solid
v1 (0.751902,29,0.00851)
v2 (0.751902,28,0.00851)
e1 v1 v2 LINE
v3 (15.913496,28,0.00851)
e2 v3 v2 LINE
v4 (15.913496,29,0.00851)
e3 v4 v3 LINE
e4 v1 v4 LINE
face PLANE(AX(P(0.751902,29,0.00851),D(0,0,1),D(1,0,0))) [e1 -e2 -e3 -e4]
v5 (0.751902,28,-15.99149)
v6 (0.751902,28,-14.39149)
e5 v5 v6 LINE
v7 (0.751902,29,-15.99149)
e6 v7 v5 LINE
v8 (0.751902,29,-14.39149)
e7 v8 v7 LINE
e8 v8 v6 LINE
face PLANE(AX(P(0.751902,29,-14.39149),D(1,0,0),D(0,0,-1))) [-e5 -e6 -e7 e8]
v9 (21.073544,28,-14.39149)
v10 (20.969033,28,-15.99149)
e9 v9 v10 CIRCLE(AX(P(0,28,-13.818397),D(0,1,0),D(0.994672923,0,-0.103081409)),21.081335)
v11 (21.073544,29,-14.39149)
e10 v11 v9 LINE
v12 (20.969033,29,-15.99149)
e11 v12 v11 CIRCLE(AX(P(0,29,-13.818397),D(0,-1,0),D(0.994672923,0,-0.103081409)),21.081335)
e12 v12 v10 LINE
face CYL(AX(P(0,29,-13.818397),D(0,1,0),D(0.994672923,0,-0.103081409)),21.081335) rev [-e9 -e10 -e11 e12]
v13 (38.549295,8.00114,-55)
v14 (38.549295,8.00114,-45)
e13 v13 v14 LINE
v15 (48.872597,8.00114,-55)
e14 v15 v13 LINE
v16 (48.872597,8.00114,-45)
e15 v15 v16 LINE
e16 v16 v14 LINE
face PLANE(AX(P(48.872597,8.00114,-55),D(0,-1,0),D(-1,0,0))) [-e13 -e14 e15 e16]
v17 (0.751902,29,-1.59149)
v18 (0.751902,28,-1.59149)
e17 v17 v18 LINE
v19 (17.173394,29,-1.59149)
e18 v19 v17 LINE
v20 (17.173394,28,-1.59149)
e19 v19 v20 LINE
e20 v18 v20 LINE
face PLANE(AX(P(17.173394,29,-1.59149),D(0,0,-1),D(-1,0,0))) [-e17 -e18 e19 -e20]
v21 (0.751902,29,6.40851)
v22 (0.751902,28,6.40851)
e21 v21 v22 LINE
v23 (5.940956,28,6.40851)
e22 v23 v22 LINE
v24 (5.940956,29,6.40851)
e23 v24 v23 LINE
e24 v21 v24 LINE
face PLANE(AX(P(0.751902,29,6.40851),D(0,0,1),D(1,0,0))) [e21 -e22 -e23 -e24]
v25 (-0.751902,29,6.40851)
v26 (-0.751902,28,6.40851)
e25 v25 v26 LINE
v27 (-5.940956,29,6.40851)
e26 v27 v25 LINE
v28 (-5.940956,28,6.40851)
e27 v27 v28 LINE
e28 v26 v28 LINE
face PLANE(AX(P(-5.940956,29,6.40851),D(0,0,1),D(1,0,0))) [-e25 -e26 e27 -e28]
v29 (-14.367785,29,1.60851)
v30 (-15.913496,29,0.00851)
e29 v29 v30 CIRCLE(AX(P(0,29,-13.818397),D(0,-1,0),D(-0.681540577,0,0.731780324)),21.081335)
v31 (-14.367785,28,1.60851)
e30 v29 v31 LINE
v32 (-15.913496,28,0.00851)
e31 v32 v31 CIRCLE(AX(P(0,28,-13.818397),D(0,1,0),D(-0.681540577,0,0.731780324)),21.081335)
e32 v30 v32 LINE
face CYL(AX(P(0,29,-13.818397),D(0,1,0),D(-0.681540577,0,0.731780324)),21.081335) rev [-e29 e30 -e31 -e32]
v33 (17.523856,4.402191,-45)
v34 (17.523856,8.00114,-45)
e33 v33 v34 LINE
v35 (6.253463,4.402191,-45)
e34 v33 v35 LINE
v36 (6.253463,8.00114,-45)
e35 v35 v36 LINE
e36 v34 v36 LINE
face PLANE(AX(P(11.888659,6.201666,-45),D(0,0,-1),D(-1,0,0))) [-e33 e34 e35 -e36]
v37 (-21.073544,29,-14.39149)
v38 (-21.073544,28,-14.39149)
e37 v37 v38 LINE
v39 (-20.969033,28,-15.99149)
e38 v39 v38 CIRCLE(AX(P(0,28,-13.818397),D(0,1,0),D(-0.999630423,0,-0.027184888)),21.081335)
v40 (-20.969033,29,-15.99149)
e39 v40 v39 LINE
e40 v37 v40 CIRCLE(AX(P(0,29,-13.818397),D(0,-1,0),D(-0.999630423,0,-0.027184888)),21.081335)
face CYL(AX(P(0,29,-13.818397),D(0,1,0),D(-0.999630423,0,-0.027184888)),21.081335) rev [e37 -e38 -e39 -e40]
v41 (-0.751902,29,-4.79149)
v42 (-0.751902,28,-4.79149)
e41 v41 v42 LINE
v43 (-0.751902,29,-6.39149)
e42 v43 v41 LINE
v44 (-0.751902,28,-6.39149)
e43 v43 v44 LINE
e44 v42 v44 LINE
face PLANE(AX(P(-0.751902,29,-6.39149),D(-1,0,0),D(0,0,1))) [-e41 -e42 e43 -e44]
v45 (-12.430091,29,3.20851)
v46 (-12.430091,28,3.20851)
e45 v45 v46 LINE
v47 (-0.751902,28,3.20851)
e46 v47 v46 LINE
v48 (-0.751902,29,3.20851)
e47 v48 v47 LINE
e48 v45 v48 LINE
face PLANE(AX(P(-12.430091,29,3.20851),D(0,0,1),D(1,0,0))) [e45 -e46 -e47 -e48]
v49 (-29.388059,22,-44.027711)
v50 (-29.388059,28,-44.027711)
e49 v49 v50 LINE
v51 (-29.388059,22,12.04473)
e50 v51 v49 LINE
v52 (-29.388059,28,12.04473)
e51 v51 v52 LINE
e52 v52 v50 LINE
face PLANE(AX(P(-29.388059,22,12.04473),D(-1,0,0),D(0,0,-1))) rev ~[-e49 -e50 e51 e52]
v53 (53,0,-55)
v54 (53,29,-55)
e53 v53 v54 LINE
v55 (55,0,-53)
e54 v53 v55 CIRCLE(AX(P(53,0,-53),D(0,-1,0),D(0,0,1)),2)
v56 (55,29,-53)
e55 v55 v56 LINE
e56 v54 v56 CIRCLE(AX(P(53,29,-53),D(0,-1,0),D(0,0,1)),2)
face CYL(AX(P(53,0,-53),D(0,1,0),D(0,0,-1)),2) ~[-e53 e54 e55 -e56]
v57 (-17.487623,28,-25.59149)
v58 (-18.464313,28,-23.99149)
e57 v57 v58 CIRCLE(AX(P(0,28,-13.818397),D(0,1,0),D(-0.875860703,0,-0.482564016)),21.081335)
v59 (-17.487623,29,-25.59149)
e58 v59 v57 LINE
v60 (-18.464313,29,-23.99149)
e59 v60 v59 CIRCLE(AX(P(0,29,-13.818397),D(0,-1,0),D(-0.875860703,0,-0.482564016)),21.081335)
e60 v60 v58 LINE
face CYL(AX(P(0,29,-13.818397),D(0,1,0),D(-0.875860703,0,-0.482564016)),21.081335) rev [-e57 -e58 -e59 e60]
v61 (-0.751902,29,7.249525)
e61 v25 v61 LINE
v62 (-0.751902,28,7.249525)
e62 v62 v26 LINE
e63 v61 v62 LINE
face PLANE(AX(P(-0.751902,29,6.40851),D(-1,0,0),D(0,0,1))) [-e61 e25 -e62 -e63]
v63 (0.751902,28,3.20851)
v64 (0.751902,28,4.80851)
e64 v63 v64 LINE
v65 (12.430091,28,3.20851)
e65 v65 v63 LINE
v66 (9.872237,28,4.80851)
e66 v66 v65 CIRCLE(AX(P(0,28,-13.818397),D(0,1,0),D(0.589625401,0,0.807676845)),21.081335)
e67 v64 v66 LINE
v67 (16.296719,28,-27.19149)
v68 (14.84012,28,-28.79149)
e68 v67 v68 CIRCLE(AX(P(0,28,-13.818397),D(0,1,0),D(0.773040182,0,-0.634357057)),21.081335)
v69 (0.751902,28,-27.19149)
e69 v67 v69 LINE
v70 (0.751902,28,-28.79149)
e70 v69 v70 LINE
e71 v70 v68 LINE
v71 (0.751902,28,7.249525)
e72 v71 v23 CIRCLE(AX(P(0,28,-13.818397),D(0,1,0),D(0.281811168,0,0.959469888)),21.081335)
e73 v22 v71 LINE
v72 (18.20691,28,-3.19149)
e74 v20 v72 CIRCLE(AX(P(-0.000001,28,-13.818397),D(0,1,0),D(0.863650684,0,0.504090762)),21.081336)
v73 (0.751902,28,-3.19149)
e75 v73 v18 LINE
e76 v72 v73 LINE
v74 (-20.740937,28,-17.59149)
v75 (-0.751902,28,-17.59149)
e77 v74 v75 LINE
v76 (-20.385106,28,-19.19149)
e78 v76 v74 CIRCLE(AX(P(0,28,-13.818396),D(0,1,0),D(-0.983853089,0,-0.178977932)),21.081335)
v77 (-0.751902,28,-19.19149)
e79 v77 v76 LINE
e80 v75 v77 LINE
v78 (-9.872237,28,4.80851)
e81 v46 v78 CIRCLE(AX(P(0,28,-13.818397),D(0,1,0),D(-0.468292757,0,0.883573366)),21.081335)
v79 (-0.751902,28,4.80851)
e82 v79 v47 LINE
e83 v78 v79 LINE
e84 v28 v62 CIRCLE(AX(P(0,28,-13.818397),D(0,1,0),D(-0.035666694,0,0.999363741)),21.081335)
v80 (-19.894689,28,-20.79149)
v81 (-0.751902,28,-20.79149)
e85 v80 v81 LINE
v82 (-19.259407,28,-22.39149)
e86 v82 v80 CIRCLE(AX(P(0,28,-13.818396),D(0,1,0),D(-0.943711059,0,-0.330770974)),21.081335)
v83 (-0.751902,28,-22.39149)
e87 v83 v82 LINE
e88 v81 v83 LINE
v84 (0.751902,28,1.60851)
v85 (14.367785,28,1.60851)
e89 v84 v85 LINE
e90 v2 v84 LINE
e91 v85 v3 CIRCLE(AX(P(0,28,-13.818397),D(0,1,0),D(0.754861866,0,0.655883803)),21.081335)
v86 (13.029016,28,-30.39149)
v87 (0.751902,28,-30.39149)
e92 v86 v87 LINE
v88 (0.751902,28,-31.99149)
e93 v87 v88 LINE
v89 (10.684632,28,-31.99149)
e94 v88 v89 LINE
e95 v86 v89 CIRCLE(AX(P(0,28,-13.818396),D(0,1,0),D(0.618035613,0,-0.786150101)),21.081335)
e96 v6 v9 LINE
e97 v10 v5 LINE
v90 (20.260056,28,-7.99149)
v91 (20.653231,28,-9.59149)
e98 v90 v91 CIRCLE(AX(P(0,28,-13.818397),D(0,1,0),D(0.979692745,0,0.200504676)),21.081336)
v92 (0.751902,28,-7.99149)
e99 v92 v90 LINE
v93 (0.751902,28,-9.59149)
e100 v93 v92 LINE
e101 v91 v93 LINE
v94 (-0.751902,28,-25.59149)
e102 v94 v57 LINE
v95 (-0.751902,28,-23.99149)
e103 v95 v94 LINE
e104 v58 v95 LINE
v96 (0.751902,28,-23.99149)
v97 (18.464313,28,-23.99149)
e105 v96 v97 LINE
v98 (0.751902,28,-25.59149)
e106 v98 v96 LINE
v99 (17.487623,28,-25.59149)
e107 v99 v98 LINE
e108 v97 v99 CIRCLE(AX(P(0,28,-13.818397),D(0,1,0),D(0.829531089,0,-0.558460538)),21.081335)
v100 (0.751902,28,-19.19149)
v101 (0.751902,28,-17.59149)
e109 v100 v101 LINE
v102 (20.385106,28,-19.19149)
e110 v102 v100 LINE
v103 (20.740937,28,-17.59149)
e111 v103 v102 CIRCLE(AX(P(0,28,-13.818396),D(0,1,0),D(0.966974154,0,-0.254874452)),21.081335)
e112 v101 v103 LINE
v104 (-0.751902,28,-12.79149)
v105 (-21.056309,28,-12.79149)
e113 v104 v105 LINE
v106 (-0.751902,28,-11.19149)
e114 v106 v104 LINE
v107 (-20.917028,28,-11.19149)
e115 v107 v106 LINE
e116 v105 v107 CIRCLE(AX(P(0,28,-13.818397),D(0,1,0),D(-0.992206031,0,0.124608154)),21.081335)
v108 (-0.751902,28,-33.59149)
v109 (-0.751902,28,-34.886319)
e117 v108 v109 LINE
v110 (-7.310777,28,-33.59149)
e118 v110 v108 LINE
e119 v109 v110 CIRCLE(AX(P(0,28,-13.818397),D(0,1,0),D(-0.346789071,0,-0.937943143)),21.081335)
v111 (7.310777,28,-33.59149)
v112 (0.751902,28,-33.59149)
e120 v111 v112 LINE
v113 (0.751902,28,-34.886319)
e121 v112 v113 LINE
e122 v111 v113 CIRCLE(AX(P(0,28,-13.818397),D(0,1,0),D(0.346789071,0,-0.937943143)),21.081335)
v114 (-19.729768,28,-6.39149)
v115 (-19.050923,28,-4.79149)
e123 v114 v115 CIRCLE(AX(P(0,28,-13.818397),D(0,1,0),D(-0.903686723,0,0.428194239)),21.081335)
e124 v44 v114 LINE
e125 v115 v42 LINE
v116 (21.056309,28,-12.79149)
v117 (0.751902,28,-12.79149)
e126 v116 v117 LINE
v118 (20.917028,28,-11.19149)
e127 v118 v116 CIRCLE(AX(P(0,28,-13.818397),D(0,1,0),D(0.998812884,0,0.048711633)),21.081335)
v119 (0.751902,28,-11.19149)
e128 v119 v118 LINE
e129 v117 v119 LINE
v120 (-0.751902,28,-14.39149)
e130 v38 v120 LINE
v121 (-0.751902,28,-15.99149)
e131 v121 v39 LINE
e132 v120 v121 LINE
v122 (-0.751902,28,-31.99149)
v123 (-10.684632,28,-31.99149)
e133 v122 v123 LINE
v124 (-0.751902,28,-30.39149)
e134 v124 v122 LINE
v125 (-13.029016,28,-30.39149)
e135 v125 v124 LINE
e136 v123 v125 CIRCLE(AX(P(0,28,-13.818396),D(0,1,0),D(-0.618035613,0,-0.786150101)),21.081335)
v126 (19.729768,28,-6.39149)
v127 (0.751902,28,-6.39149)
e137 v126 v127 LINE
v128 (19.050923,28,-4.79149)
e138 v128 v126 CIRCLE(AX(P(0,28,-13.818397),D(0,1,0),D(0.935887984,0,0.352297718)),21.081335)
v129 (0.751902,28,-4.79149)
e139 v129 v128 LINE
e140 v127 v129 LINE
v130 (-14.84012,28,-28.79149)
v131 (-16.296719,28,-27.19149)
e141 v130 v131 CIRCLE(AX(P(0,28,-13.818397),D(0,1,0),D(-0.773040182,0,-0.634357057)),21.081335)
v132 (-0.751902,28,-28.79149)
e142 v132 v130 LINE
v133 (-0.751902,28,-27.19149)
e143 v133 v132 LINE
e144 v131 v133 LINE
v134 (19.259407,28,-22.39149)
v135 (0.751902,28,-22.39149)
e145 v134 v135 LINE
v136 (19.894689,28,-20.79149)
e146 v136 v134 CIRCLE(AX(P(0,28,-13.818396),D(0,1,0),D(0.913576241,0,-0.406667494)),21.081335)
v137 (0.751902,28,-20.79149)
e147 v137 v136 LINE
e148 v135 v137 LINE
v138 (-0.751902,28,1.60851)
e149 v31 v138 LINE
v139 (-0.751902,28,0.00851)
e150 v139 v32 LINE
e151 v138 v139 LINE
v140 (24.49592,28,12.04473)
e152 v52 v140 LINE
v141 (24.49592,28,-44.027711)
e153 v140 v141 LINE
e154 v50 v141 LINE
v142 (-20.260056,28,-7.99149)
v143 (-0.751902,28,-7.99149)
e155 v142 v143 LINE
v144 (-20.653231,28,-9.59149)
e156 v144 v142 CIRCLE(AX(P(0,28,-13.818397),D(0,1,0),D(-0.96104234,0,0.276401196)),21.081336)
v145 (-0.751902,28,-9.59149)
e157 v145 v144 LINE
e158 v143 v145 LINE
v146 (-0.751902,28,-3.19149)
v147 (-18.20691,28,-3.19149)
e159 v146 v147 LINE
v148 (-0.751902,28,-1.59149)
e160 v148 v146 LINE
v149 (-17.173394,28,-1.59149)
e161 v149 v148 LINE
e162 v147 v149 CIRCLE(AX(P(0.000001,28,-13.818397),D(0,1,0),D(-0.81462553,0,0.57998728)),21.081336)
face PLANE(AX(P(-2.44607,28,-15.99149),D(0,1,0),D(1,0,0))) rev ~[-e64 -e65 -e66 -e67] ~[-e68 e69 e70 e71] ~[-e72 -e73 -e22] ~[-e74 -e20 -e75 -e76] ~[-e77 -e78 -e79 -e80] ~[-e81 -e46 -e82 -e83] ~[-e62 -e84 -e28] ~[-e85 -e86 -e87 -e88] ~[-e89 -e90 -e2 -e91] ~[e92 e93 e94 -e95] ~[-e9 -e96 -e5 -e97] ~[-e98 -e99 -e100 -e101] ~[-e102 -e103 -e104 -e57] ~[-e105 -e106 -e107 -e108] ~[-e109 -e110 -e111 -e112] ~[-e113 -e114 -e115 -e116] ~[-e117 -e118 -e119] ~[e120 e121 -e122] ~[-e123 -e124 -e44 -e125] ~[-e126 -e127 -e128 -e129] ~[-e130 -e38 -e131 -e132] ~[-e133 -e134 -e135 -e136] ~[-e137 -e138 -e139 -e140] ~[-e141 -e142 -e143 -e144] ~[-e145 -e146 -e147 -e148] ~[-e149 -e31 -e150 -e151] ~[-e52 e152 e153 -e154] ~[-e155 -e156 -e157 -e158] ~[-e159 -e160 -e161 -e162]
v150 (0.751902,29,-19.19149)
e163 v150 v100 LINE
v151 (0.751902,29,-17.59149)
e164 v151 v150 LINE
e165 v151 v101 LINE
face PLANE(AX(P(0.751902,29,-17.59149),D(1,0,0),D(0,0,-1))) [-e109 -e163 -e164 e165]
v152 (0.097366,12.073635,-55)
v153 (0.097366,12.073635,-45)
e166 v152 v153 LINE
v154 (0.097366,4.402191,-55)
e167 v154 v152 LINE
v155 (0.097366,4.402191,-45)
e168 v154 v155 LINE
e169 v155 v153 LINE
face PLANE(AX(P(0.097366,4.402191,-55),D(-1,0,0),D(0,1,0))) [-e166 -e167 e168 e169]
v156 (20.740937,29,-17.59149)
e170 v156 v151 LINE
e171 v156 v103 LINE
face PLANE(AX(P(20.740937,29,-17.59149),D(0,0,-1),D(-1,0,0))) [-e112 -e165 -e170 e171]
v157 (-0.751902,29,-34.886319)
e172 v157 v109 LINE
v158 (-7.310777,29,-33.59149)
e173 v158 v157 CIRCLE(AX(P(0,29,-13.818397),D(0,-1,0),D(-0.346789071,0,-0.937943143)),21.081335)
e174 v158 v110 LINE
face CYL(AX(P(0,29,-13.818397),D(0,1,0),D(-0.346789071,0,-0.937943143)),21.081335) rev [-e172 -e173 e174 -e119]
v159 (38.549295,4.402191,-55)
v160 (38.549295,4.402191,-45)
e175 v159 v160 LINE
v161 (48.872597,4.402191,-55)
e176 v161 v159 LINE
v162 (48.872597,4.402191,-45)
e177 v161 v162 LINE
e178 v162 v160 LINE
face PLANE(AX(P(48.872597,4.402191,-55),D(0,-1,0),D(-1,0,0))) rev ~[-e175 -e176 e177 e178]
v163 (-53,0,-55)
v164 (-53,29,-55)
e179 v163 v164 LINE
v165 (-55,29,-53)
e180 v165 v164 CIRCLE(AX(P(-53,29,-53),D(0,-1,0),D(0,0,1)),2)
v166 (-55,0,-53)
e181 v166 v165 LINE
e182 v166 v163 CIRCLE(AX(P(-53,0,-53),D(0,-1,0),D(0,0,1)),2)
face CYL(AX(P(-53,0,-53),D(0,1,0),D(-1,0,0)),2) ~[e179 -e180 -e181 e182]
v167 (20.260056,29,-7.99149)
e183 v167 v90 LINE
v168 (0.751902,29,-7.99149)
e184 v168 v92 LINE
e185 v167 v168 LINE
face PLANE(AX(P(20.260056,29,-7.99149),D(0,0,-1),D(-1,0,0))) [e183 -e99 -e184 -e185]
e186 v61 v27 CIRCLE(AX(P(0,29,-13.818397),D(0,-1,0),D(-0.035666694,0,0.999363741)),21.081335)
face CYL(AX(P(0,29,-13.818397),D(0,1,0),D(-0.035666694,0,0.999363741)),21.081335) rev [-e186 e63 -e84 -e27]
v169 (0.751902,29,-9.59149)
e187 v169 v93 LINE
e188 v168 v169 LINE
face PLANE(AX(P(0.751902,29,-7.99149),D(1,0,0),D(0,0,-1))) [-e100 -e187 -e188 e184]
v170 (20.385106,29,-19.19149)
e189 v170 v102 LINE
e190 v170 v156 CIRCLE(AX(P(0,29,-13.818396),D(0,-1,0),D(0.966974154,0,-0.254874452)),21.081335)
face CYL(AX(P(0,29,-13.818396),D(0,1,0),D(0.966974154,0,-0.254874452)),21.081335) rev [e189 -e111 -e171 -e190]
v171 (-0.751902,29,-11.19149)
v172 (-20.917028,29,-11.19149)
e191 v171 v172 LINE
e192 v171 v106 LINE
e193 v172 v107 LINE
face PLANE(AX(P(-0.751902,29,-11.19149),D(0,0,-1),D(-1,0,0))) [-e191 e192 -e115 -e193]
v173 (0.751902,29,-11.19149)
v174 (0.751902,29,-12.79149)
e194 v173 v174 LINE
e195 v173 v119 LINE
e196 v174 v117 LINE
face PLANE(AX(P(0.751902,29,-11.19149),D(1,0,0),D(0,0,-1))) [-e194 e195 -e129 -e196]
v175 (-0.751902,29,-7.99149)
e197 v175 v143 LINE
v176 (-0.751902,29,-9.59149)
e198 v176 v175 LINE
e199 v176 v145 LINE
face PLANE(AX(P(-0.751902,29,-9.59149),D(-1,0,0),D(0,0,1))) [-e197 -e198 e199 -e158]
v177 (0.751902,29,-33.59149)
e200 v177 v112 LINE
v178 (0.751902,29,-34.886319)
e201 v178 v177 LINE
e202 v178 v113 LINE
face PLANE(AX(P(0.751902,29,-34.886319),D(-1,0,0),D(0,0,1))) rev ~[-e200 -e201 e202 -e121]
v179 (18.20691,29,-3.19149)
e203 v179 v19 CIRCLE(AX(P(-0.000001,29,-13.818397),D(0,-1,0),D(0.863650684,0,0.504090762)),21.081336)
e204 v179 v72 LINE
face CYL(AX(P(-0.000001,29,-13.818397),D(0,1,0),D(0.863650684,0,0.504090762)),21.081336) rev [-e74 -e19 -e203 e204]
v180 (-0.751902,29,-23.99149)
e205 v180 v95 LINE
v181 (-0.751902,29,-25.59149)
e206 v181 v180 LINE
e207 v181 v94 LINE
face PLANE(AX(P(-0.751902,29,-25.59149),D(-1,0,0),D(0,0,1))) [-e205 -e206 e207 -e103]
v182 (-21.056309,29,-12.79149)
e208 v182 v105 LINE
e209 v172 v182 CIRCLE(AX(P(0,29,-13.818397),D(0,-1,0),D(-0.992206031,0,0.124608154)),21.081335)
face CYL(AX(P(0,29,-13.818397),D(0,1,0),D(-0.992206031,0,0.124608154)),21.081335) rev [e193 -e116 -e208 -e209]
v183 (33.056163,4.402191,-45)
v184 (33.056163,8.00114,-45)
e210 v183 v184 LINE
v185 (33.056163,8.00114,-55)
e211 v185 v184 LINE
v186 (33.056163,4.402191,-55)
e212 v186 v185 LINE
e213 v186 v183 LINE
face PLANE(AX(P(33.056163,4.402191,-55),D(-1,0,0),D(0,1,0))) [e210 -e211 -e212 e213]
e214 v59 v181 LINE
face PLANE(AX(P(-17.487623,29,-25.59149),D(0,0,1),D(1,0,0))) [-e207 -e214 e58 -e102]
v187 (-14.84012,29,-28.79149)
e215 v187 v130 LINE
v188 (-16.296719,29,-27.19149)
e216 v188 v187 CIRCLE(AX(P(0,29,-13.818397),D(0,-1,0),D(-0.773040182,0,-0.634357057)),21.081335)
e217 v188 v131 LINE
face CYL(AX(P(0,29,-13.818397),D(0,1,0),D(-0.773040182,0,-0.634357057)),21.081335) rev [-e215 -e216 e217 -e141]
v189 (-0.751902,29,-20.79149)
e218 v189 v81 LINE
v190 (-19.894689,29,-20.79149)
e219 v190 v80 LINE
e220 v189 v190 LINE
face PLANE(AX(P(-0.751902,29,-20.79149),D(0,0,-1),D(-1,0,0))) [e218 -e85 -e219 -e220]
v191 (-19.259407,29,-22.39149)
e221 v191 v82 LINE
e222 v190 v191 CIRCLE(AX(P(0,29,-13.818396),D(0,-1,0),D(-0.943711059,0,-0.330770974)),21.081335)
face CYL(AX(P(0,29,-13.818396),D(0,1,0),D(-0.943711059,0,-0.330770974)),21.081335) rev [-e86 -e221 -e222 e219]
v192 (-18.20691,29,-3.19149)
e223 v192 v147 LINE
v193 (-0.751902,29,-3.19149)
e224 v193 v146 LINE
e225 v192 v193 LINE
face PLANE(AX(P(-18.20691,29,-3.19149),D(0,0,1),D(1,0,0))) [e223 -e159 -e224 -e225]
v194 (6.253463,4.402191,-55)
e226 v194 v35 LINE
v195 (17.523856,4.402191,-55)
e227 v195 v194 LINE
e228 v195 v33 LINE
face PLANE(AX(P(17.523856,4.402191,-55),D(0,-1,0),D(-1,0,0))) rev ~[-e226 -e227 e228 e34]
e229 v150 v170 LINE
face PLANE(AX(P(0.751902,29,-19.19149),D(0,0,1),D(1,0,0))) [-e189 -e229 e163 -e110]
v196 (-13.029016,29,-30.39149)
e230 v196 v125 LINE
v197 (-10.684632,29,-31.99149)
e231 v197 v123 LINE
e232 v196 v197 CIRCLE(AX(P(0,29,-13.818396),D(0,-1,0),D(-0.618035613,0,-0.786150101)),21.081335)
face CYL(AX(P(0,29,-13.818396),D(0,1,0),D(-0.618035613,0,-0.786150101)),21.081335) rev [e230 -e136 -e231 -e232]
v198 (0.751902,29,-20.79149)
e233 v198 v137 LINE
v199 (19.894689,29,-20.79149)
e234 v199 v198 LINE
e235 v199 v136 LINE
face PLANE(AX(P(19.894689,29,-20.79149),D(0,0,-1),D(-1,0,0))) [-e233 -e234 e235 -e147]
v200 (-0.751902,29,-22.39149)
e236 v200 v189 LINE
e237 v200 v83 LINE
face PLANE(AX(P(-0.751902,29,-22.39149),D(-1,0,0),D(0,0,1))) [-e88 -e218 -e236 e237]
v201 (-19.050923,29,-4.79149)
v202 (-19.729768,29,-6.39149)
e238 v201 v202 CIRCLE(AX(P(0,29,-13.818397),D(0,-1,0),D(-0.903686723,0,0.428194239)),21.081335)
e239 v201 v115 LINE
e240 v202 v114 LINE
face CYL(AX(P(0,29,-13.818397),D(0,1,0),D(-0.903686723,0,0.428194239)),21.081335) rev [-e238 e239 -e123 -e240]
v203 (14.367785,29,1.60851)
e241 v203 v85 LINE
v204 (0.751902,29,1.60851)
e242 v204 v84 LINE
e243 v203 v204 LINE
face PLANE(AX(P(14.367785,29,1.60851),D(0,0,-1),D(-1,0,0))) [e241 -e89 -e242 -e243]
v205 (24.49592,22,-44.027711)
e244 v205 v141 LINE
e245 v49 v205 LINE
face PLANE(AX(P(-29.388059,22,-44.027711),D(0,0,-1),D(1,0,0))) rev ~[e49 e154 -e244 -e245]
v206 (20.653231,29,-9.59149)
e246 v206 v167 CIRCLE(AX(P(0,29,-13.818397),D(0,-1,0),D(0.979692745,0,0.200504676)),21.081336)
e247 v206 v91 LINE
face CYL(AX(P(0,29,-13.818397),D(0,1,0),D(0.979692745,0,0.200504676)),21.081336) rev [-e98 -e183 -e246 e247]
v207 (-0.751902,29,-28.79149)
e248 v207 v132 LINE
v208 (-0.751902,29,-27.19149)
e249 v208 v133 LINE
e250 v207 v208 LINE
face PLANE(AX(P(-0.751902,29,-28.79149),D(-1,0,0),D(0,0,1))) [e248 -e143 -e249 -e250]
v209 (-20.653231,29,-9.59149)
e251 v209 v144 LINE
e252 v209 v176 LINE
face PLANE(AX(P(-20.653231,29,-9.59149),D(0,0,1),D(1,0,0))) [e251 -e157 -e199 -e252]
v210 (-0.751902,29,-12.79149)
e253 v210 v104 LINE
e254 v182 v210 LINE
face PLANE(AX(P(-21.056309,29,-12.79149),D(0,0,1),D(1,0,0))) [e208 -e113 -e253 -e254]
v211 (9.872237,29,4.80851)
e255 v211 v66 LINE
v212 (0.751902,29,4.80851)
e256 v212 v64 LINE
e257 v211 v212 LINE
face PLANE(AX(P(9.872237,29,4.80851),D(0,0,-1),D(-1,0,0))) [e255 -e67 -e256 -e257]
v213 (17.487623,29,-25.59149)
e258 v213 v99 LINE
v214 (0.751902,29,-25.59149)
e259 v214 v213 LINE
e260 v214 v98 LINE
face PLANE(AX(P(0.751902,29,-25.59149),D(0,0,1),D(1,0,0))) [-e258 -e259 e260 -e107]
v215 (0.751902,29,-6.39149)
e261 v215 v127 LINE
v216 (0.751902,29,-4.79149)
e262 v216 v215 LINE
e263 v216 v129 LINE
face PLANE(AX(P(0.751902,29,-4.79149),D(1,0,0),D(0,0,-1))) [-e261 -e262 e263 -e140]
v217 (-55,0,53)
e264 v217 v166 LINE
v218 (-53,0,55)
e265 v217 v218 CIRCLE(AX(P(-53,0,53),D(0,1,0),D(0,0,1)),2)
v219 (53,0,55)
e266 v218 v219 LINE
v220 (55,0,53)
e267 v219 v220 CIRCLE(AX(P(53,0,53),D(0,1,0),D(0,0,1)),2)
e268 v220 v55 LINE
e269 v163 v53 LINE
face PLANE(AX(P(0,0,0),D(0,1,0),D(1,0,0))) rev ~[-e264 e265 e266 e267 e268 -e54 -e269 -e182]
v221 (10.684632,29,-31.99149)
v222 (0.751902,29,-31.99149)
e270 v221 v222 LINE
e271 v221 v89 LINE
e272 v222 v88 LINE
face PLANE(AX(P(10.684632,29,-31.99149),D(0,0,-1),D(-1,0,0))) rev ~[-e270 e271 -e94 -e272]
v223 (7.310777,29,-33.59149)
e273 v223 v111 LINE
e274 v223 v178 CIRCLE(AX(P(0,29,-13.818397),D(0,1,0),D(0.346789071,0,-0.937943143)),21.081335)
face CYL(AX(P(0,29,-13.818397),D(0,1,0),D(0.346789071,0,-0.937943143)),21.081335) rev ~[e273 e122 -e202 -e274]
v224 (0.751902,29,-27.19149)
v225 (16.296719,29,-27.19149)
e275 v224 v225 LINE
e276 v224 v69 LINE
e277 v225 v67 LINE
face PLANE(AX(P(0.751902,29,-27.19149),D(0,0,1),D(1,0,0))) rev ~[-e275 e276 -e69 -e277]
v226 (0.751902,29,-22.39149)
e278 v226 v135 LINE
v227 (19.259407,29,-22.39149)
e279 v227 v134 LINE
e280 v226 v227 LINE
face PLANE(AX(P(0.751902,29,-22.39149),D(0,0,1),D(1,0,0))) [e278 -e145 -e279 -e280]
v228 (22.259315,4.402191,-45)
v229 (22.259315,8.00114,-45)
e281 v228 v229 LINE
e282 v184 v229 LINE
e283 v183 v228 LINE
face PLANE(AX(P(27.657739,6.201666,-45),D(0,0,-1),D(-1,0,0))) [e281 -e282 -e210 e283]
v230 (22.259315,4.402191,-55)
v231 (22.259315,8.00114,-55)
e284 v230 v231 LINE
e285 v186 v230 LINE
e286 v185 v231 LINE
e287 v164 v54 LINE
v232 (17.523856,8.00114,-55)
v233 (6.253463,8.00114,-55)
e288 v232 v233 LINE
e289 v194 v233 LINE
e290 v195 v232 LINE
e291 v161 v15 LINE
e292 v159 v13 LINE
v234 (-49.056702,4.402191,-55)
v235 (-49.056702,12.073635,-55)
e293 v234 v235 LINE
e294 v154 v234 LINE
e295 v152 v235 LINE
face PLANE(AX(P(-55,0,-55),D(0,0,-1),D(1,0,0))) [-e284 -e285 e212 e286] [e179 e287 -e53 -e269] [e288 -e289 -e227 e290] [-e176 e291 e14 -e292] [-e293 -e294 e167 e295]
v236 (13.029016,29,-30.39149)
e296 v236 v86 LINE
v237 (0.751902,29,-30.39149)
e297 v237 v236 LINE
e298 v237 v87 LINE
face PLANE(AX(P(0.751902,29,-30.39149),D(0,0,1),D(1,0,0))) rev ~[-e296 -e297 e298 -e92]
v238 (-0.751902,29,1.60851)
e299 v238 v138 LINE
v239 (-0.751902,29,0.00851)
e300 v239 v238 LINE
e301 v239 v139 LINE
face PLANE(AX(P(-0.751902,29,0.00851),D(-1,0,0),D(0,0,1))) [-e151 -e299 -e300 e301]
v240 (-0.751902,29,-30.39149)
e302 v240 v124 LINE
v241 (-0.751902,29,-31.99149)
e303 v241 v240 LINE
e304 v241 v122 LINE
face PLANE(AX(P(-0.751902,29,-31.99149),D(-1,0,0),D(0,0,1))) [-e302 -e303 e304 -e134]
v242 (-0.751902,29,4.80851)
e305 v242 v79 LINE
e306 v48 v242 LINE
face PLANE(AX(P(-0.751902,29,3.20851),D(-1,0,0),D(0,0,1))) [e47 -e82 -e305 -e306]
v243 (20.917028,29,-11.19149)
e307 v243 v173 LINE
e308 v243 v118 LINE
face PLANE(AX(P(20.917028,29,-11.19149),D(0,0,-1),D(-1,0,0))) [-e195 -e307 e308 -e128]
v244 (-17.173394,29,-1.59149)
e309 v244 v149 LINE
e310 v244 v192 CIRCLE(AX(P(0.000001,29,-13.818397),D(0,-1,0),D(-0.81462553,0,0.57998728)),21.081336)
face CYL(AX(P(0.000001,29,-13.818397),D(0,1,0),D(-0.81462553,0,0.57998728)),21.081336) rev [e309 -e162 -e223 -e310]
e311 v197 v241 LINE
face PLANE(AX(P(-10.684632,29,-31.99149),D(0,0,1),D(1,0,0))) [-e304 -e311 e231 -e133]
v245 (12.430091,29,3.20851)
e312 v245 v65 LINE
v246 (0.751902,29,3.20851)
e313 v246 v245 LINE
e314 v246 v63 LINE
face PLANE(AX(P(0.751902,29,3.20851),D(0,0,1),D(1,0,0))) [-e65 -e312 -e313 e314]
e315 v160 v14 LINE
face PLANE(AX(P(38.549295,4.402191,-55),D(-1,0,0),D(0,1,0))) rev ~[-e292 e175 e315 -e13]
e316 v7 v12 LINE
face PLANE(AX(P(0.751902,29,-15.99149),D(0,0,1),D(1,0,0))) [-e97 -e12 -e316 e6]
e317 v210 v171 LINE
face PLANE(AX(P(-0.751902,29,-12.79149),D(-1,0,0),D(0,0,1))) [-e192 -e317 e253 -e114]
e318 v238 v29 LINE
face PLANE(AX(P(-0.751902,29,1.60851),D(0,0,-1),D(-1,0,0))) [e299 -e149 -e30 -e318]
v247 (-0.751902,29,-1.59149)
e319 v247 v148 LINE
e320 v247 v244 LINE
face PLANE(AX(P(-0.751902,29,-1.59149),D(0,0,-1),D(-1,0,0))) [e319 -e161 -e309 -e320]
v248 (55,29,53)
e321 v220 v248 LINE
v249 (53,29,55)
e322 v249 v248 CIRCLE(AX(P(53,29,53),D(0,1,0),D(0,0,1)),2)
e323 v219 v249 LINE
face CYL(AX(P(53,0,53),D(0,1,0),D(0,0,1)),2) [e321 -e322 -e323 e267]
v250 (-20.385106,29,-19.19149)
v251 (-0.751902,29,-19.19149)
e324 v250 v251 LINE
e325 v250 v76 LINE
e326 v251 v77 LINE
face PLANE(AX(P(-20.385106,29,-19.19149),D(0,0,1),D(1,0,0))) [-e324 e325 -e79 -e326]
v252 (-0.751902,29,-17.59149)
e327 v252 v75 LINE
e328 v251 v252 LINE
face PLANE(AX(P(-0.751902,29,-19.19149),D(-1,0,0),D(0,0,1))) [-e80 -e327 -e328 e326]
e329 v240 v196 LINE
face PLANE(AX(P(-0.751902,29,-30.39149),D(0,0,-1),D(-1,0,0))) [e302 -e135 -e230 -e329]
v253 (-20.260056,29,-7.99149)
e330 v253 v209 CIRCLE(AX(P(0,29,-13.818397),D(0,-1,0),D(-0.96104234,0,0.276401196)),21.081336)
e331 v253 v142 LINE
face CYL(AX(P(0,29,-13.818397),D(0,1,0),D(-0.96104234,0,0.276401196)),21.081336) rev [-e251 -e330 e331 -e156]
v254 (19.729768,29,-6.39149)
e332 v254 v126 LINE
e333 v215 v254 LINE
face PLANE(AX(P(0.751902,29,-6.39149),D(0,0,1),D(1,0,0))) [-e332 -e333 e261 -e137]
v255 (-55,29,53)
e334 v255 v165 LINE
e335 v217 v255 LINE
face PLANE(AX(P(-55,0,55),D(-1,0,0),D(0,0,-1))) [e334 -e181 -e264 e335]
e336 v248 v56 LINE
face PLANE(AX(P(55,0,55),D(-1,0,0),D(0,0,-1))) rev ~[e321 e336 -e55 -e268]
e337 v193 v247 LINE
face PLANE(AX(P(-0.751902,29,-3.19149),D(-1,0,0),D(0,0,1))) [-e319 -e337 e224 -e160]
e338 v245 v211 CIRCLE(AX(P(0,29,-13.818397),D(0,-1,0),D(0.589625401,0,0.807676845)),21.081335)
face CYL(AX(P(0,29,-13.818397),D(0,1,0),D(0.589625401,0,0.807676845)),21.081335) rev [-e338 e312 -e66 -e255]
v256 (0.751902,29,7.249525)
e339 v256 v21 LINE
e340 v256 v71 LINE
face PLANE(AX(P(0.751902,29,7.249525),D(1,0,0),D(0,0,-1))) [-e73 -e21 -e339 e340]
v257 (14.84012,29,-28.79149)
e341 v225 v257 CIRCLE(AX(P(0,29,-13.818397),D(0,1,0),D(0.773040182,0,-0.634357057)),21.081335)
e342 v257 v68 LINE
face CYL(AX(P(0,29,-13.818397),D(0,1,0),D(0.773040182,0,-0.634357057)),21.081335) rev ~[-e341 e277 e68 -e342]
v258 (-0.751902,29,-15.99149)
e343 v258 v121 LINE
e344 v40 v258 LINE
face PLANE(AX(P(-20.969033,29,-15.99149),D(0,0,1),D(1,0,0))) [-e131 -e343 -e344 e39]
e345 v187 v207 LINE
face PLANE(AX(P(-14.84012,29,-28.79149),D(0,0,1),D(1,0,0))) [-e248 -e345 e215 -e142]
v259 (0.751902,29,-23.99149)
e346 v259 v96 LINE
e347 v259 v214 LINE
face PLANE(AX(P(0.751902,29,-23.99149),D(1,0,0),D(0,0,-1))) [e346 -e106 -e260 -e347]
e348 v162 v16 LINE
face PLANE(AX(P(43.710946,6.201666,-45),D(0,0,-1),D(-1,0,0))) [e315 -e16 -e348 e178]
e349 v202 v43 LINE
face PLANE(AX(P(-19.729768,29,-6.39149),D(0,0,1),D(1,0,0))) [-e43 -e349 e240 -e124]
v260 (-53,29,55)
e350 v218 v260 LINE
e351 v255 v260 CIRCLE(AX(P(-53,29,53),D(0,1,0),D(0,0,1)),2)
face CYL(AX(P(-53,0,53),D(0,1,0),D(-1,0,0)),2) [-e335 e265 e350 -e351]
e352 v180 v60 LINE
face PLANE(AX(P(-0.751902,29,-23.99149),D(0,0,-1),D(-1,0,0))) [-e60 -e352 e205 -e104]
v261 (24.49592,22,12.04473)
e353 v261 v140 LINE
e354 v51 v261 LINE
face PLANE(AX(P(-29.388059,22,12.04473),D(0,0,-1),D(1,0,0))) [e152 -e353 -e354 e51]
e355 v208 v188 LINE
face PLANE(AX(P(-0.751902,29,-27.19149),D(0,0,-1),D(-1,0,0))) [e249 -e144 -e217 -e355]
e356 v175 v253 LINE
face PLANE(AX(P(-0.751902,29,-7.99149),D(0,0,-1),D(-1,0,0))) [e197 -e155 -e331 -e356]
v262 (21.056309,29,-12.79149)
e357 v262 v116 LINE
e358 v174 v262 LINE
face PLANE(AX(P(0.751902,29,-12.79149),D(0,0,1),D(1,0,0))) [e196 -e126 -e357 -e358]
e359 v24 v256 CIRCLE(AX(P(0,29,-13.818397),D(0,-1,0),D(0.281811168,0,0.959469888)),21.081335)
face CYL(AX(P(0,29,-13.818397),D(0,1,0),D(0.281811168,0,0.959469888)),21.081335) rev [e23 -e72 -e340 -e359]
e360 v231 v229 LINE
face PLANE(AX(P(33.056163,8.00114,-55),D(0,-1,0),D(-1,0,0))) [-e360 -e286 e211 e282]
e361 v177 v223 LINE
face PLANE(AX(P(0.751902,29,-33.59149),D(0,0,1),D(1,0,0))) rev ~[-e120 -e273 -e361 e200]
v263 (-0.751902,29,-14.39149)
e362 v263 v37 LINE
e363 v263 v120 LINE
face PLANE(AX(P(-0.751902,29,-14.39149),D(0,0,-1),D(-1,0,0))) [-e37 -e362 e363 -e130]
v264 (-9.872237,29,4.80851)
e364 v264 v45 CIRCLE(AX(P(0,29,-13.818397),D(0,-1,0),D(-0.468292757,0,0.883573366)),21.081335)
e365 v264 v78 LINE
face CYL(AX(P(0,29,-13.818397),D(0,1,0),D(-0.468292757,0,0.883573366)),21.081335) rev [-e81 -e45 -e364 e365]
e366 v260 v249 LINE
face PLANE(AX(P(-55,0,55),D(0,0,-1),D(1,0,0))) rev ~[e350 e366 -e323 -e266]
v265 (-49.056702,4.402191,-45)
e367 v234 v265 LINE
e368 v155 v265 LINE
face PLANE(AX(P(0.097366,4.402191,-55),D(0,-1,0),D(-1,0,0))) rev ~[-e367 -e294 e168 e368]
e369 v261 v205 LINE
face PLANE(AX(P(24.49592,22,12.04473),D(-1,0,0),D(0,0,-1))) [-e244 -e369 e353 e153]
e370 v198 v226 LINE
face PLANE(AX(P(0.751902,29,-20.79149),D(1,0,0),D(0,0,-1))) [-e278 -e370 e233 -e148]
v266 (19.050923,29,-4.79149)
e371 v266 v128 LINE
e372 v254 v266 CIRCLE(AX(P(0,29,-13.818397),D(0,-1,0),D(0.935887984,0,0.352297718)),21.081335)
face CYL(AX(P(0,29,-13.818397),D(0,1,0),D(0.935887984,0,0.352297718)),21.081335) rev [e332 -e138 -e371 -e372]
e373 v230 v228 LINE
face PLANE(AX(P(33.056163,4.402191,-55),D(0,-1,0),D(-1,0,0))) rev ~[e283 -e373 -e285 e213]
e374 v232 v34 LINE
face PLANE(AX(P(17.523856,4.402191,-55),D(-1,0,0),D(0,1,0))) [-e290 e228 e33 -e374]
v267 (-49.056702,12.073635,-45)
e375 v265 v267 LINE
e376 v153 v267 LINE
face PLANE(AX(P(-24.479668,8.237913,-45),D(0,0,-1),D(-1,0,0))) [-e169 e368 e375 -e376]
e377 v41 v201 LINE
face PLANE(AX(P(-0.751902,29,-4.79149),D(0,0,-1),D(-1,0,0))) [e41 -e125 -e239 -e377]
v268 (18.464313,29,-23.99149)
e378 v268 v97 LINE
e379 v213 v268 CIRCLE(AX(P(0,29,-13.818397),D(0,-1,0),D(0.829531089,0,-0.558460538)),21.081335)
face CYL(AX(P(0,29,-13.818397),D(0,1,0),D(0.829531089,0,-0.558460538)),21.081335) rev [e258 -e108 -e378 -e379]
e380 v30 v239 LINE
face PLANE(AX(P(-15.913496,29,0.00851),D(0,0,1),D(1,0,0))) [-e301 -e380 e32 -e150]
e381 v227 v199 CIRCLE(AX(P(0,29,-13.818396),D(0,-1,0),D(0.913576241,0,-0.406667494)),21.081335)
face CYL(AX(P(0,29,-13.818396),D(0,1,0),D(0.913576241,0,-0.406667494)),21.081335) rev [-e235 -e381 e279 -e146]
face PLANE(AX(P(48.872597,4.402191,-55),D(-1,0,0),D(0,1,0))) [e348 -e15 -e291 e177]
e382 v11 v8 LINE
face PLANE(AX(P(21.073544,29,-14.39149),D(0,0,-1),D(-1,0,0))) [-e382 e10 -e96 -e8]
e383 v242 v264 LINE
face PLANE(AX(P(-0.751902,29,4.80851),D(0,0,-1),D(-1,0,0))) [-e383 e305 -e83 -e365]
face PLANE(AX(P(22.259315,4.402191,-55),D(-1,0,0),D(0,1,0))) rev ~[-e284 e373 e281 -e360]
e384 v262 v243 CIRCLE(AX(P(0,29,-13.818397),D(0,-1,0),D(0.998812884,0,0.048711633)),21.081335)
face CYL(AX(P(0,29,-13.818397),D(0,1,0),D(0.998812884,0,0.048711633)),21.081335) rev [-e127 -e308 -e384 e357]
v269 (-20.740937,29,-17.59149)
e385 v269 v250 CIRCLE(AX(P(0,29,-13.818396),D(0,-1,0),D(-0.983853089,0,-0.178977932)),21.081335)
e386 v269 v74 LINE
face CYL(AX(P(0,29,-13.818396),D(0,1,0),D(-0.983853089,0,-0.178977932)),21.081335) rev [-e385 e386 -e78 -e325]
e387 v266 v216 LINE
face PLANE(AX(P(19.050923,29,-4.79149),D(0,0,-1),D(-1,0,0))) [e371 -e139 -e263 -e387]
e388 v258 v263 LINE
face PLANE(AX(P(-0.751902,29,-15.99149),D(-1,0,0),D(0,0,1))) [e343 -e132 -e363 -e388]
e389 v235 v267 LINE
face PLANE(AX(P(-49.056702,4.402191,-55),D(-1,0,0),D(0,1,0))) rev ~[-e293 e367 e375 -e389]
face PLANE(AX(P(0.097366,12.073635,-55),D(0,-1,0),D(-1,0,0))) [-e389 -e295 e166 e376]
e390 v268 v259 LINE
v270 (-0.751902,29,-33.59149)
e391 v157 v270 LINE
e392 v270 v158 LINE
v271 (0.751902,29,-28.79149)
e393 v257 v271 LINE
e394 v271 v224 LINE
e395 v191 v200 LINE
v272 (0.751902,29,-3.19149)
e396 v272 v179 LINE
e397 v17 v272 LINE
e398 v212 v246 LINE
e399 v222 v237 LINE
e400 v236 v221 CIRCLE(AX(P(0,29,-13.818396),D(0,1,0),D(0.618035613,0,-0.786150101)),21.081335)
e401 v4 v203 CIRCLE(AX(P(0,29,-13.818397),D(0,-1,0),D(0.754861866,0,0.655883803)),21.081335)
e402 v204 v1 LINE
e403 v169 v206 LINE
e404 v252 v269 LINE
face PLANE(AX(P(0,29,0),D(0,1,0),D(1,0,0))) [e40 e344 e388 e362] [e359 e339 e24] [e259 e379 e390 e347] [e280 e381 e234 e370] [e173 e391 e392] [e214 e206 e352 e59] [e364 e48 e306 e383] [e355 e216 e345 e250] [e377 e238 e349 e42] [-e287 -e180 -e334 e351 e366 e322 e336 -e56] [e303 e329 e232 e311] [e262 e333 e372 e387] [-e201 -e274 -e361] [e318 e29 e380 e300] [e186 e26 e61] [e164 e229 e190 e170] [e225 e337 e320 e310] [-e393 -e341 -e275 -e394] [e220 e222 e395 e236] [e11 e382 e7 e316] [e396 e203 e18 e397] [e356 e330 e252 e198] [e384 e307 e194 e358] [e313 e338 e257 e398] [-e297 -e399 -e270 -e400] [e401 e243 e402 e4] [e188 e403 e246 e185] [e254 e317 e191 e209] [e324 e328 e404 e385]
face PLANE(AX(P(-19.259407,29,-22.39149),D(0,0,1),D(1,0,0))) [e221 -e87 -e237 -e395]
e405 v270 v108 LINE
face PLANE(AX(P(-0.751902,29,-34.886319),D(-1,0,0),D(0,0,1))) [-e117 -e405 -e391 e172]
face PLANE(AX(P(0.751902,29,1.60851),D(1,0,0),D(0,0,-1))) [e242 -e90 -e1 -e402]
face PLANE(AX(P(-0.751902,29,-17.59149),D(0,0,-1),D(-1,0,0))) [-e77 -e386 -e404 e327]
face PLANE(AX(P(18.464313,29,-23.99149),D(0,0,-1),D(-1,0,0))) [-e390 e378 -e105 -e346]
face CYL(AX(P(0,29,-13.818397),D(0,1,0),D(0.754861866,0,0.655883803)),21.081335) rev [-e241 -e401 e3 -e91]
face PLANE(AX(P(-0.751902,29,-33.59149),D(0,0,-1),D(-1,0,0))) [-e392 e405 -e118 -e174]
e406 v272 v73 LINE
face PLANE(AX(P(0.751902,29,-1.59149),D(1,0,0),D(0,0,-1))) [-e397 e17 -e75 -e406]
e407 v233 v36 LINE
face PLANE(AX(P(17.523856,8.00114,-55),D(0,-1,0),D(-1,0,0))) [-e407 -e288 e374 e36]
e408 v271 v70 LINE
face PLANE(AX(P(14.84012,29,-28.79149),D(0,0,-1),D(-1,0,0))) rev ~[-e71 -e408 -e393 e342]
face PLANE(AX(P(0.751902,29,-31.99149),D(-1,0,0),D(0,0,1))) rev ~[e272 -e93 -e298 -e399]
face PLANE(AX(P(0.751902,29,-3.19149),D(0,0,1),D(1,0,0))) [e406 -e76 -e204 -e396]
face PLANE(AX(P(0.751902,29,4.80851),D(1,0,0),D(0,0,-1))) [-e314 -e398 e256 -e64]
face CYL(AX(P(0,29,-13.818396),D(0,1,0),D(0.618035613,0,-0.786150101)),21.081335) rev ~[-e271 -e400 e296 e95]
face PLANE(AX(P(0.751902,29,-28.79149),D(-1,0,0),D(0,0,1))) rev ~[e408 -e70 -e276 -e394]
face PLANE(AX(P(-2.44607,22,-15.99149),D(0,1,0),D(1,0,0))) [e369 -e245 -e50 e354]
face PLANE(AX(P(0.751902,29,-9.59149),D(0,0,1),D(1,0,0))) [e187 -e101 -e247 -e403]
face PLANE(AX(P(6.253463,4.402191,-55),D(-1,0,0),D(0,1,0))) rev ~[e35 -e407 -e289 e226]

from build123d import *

# Parameters (mm, degrees)
SKETCH_1_W          = 110
SKETCH_1_H          = 110
EXTRUDE_1_DEPTH     = 29
CUT_EXTRUDE_1_DEPTH = 7
SKETCH_3_W          = 53.883979218
SKETCH_3_H          = 56.07244117
CUT_EXTRUDE_3_DEPTH = 6
SKETCH_4_W          = 10.323301276
SKETCH_4_H          = 3.598949069
SKETCH_4_W_2        = 10.796847207
SKETCH_4_W_3        = 11.270393137
SKETCH_4_W_4        = 49.154067547
SKETCH_4_H_2        = 7.671444068
CUT_EXTRUDE_4_DEPTH = 10
FILLET_1_R          = 2


with BuildPart() as part:
    # 草图1 → 凸台-拉伸1 (new body)
    with BuildSketch(Plane(origin=(0, 0, 0), x_dir=(1, 0, 0), z_dir=(0, 1, 0))):
        Rectangle(SKETCH_1_W, SKETCH_1_H)
    extrude(amount=EXTRUDE_1_DEPTH)

    # 草图2 → 切除-拉伸1 (cut)
    with BuildSketch(Plane(origin=(0, 29, 0), x_dir=(1, 0, 0), z_dir=(0, 1, 0))):
        with BuildLine():
            Line((-0.751901528, 34.886318516), (-0.751901528, 33.59149031))
            Line((-0.751901528, 33.59149031), (-7.310776634, 33.59149031))
            ThreePointArc((-7.310776634, 33.59149031), (-4.082993976, 34.500559204), (-0.751901528, 34.886318516))
        make_face()
        with BuildLine():
            Line((-0.751901528, 31.99149031), (-0.751901528, 30.39149031))
            Line((-0.751901528, 30.39149031), (-13.029015886, 30.39149031))
            ThreePointArc((-13.029015886, 30.39149031), (-11.883781834, 31.230990299), (-10.684631719, 31.99149031))
            Line((-10.684631719, 31.99149031), (-0.751901528, 31.99149031))
        make_face()
        with BuildLine():
            Line((0.751901528, 34.886318516), (0.751901528, 33.59149031))
            Line((0.751901528, 33.59149031), (7.310776634, 33.59149031))
            ThreePointArc((7.310776634, 33.59149031), (4.082993976, 34.500559204), (0.751901528, 34.886318516))
        make_face()
        with BuildLine():
            Line((-14.840119775, 28.79149031), (-0.751901528, 28.79149031))
            Line((-0.751901528, 28.79149031), (-0.751901528, 27.19149031))
            Line((-0.751901528, 27.19149031), (-16.296719146, 27.19149031))
            ThreePointArc((-16.296719146, 27.19149031), (-15.588960341, 28.010190206), (-14.840119775, 28.79149031))
        make_face()
        with BuildLine():
            Line((-17.487622906, 25.59149031), (-0.751901528, 25.59149031))
            Line((-0.751901528, 25.59149031), (-0.751901528, 23.99149031))
            Line((-0.751901528, 23.99149031), (-18.464313009, 23.99149031))
            ThreePointArc((-18.464313009, 23.99149031), (-17.993760697, 24.802351555), (-17.487622906, 25.59149031))
        make_face()
        with BuildLine():
            Line((-19.259406919, 22.39149031), (-0.751901528, 22.39149031))
            Line((-0.751901528, 22.39149031), (-0.751901528, 20.79149031))
            Line((-0.751901528, 20.79149031), (-19.894689112, 20.79149031))
            ThreePointArc((-19.894689112, 20.79149031), (-19.593386869, 21.597977674), (-19.259406919, 22.39149031))
        make_face()
        with BuildLine():
            Line((-20.385106201, 19.19149031), (-0.751901528, 19.19149031))
            Line((-0.751901528, 19.19149031), (-0.751901528, 17.59149031))
            Line((-0.751901528, 17.59149031), (-20.740936691, 17.59149031))
            ThreePointArc((-20.740936691, 17.59149031), (-20.578577477, 18.394949879), (-20.385106201, 19.19149031))
        make_face()
        with BuildLine():
            Line((-20.969033235, 15.99149031), (-0.751901528, 15.99149031))
            Line((-0.751901528, 15.99149031), (-0.751901528, 14.39149031))
            Line((-0.751901528, 14.39149031), (-21.073543954, 14.39149031))
            ThreePointArc((-21.073543954, 14.39149031), (-21.03650575, 15.192484283), (-20.969033235, 15.99149031))
        make_face()
        with BuildLine():
            Line((-21.056309144, 12.79149031), (-0.751901528, 12.79149031))
            Line((-0.751901528, 12.79149031), (-0.751901528, 11.19149031))
            Line((-0.751901528, 11.19149031), (-20.917027866, 11.19149031))
            ThreePointArc((-20.917027866, 11.19149031), (-21.001910745, 11.990163461), (-21.056309144, 12.79149031))
        make_face()
        with BuildLine():
            Line((-20.653231097, 9.59149031), (-0.751901528, 9.59149031))
            Line((-0.751901528, 9.59149031), (-0.751901528, 7.99149031))
            Line((-0.751901528, 7.99149031), (-20.260055644, 7.99149031))
            ThreePointArc((-20.260055644, 7.99149031), (-20.472280234, 8.787647791), (-20.653231097, 9.59149031))
        make_face()
        with BuildLine():
            Line((-19.729768237, 6.39149031), (-0.751901528, 6.39149031))
            Line((-0.751901528, 6.39149031), (-0.751901528, 4.79149031))
            Line((-0.751901528, 4.79149031), (-19.050922672, 4.79149031))
            ThreePointArc((-19.050922672, 4.79149031), (-19.406841496, 5.584491395), (-19.729768237, 6.39149031))
        make_face()
        with BuildLine():
            Line((-18.206909531, 3.19149031), (-0.751901528, 3.19149031))
            Line((-0.751901528, 3.19149031), (-0.751901528, 1.59149031))
            Line((-0.751901528, 1.59149031), (-17.173393801, 1.59149031))
            ThreePointArc((-17.173393801, 1.59149031), (-17.708231587, 2.379811633), (-18.206909531, 3.19149031))
        make_face()
        with BuildLine():
            Line((-15.91349599, -0.00850969), (-0.751901528, -0.00850969))
            Line((-0.751901528, -0.00850969), (-0.751901528, -1.60850969))
            Line((-0.751901528, -1.60850969), (-14.367785306, -1.60850969))
            ThreePointArc((-14.367785306, -1.60850969), (-15.161761086, -0.828913494), (-15.91349599, -0.00850969))
        make_face()
        with BuildLine():
            Line((-12.430090691, -3.20850969), (-0.751901528, -3.20850969))
            Line((-0.751901528, -3.20850969), (-0.751901528, -4.80850969))
            Line((-0.751901528, -4.80850969), (-9.872236553, -4.80850969))
            ThreePointArc((-9.872236553, -4.80850969), (-11.17982335, -4.054326816), (-12.430090691, -3.20850969))
        make_face()
        with BuildLine():
            Line((-5.940955693, -6.40850969), (-0.751901528, -6.40850969))
            Line((-0.751901528, -6.40850969), (-0.751901528, -7.249525385))
            ThreePointArc((-0.751901528, -7.249525385), (-3.372745364, -6.991391514), (-5.940955693, -6.40850969))
        make_face()
        with BuildLine():
            Line((0.751901528, 31.99149031), (0.751901528, 30.39149031))
            Line((0.751901528, 30.39149031), (13.029015886, 30.39149031))
            ThreePointArc((13.029015886, 30.39149031), (11.883781834, 31.230990299), (10.684631719, 31.99149031))
            Line((10.684631719, 31.99149031), (0.751901528, 31.99149031))
        make_face()
        with BuildLine():
            Line((0.751901528, 28.79149031), (0.751901528, 27.19149031))
            Line((0.751901528, 27.19149031), (16.296719146, 27.19149031))
            ThreePointArc((16.296719146, 27.19149031), (15.588960341, 28.010190206), (14.840119775, 28.79149031))
            Line((14.840119775, 28.79149031), (0.751901528, 28.79149031))
        make_face()
        with BuildLine():
            Line((0.751901528, 25.59149031), (17.487622906, 25.59149031))
            ThreePointArc((17.487622906, 25.59149031), (17.993760697, 24.802351555), (18.464313009, 23.99149031))
            Line((18.464313009, 23.99149031), (0.751901528, 23.99149031))
            Line((0.751901528, 23.99149031), (0.751901528, 25.59149031))
        make_face()
        with BuildLine():
            Line((0.751901528, 22.39149031), (19.259406919, 22.39149031))
            ThreePointArc((19.259406919, 22.39149031), (19.593386869, 21.597977674), (19.894689112, 20.79149031))
            Line((19.894689112, 20.79149031), (0.751901528, 20.79149031))
            Line((0.751901528, 20.79149031), (0.751901528, 22.39149031))
        make_face()
        with BuildLine():
            Line((0.751901528, 19.19149031), (20.385106201, 19.19149031))
            ThreePointArc((20.385106201, 19.19149031), (20.578577477, 18.394949879), (20.740936691, 17.59149031))
            Line((20.740936691, 17.59149031), (0.751901528, 17.59149031))
            Line((0.751901528, 17.59149031), (0.751901528, 19.19149031))
        make_face()
        with BuildLine():
            Line((0.751901528, 15.99149031), (20.969033235, 15.99149031))
            ThreePointArc((20.969033235, 15.99149031), (21.03650575, 15.192484283), (21.073543954, 14.39149031))
            Line((21.073543954, 14.39149031), (0.751901528, 14.39149031))
            Line((0.751901528, 14.39149031), (0.751901528, 15.99149031))
        make_face()
        with BuildLine():
            Line((0.751901528, 12.79149031), (21.056309144, 12.79149031))
            ThreePointArc((21.056309144, 12.79149031), (21.001910745, 11.990163461), (20.917027866, 11.19149031))
            Line((20.917027866, 11.19149031), (0.751901528, 11.19149031))
            Line((0.751901528, 11.19149031), (0.751901528, 12.79149031))
        make_face()
        with BuildLine():
            Line((0.751901528, 9.59149031), (20.653231097, 9.59149031))
            ThreePointArc((20.653231097, 9.59149031), (20.472280234, 8.787647791), (20.260055644, 7.99149031))
            Line((20.260055644, 7.99149031), (0.751901528, 7.99149031))
            Line((0.751901528, 7.99149031), (0.751901528, 9.59149031))
        make_face()
        with BuildLine():
            Line((0.751901528, 6.39149031), (19.729768237, 6.39149031))
            ThreePointArc((19.729768237, 6.39149031), (19.406841496, 5.584491395), (19.050922672, 4.79149031))
            Line((19.050922672, 4.79149031), (0.751901528, 4.79149031))
            Line((0.751901528, 4.79149031), (0.751901528, 6.39149031))
        make_face()
        with BuildLine():
            Line((0.751901528, 3.19149031), (18.206909531, 3.19149031))
            ThreePointArc((18.206909531, 3.19149031), (17.708231587, 2.379811633), (17.173393801, 1.59149031))
            Line((17.173393801, 1.59149031), (0.751901528, 1.59149031))
            Line((0.751901528, 1.59149031), (0.751901528, 3.19149031))
        make_face()
        with BuildLine():
            Line((0.751901528, -0.00850969), (15.91349599, -0.00850969))
            ThreePointArc((15.91349599, -0.00850969), (15.161761086, -0.828913494), (14.367785306, -1.60850969))
            Line((14.367785306, -1.60850969), (0.751901528, -1.60850969))
            Line((0.751901528, -1.60850969), (0.751901528, -0.00850969))
        make_face()
        with BuildLine():
            Line((0.751901528, -3.20850969), (12.430090691, -3.20850969))
            ThreePointArc((12.430090691, -3.20850969), (11.17982335, -4.054326816), (9.872236553, -4.80850969))
            Line((9.872236553, -4.80850969), (0.751901528, -4.80850969))
            Line((0.751901528, -4.80850969), (0.751901528, -3.20850969))
        make_face()
        with BuildLine():
            Line((0.751901528, -6.40850969), (5.940955693, -6.40850969))
            ThreePointArc((5.940955693, -6.40850969), (3.372745364, -6.991391514), (0.751901528, -7.249525385))
            Line((0.751901528, -7.249525385), (0.751901528, -6.40850969))
        make_face()
    extrude(amount=-CUT_EXTRUDE_1_DEPTH, mode=Mode.SUBTRACT)

    # 草图3 → 切除-拉伸3 (cut)
    with BuildSketch(Plane(origin=(0, 22, 0), x_dir=(1, 0, 0), z_dir=(0, 1, 0))):
        with Locations((-2.446069618, 15.99149031)):
            Rectangle(SKETCH_3_W, SKETCH_3_H)
    extrude(amount=CUT_EXTRUDE_3_DEPTH, mode=Mode.SUBTRACT)

    # 草图4 → 切除-拉伸4 (cut)
    with BuildSketch(Plane(origin=(0, 0, -55), x_dir=(-1, 0, 0), z_dir=(0, 0, -1))):
        with Locations((-43.710945988, 6.201665953)):
            Rectangle(SKETCH_4_W, SKETCH_4_H)
        with Locations((-27.657738957, 6.201665953)):
            Rectangle(SKETCH_4_W_2, SKETCH_4_H)
        with Locations((-11.888659484, 6.201665953)):
            Rectangle(SKETCH_4_W_3, SKETCH_4_H)
        with Locations((24.47966795, 8.237913452)):
            Rectangle(SKETCH_4_W_4, SKETCH_4_H_2)
    extrude(amount=-CUT_EXTRUDE_4_DEPTH, mode=Mode.SUBTRACT)

    # 圆角1
    fillet_1_edges = [part.edges().sort_by_distance(p)[0] for p in [
        (-55, 14.5, -55),
        (55, 14.5, -55),
        (55, 14.5, 55),
        (-55, 14.5, 55),
    ]]
    fillet(fillet_1_edges, radius=FILLET_1_R)


solid = part.part
